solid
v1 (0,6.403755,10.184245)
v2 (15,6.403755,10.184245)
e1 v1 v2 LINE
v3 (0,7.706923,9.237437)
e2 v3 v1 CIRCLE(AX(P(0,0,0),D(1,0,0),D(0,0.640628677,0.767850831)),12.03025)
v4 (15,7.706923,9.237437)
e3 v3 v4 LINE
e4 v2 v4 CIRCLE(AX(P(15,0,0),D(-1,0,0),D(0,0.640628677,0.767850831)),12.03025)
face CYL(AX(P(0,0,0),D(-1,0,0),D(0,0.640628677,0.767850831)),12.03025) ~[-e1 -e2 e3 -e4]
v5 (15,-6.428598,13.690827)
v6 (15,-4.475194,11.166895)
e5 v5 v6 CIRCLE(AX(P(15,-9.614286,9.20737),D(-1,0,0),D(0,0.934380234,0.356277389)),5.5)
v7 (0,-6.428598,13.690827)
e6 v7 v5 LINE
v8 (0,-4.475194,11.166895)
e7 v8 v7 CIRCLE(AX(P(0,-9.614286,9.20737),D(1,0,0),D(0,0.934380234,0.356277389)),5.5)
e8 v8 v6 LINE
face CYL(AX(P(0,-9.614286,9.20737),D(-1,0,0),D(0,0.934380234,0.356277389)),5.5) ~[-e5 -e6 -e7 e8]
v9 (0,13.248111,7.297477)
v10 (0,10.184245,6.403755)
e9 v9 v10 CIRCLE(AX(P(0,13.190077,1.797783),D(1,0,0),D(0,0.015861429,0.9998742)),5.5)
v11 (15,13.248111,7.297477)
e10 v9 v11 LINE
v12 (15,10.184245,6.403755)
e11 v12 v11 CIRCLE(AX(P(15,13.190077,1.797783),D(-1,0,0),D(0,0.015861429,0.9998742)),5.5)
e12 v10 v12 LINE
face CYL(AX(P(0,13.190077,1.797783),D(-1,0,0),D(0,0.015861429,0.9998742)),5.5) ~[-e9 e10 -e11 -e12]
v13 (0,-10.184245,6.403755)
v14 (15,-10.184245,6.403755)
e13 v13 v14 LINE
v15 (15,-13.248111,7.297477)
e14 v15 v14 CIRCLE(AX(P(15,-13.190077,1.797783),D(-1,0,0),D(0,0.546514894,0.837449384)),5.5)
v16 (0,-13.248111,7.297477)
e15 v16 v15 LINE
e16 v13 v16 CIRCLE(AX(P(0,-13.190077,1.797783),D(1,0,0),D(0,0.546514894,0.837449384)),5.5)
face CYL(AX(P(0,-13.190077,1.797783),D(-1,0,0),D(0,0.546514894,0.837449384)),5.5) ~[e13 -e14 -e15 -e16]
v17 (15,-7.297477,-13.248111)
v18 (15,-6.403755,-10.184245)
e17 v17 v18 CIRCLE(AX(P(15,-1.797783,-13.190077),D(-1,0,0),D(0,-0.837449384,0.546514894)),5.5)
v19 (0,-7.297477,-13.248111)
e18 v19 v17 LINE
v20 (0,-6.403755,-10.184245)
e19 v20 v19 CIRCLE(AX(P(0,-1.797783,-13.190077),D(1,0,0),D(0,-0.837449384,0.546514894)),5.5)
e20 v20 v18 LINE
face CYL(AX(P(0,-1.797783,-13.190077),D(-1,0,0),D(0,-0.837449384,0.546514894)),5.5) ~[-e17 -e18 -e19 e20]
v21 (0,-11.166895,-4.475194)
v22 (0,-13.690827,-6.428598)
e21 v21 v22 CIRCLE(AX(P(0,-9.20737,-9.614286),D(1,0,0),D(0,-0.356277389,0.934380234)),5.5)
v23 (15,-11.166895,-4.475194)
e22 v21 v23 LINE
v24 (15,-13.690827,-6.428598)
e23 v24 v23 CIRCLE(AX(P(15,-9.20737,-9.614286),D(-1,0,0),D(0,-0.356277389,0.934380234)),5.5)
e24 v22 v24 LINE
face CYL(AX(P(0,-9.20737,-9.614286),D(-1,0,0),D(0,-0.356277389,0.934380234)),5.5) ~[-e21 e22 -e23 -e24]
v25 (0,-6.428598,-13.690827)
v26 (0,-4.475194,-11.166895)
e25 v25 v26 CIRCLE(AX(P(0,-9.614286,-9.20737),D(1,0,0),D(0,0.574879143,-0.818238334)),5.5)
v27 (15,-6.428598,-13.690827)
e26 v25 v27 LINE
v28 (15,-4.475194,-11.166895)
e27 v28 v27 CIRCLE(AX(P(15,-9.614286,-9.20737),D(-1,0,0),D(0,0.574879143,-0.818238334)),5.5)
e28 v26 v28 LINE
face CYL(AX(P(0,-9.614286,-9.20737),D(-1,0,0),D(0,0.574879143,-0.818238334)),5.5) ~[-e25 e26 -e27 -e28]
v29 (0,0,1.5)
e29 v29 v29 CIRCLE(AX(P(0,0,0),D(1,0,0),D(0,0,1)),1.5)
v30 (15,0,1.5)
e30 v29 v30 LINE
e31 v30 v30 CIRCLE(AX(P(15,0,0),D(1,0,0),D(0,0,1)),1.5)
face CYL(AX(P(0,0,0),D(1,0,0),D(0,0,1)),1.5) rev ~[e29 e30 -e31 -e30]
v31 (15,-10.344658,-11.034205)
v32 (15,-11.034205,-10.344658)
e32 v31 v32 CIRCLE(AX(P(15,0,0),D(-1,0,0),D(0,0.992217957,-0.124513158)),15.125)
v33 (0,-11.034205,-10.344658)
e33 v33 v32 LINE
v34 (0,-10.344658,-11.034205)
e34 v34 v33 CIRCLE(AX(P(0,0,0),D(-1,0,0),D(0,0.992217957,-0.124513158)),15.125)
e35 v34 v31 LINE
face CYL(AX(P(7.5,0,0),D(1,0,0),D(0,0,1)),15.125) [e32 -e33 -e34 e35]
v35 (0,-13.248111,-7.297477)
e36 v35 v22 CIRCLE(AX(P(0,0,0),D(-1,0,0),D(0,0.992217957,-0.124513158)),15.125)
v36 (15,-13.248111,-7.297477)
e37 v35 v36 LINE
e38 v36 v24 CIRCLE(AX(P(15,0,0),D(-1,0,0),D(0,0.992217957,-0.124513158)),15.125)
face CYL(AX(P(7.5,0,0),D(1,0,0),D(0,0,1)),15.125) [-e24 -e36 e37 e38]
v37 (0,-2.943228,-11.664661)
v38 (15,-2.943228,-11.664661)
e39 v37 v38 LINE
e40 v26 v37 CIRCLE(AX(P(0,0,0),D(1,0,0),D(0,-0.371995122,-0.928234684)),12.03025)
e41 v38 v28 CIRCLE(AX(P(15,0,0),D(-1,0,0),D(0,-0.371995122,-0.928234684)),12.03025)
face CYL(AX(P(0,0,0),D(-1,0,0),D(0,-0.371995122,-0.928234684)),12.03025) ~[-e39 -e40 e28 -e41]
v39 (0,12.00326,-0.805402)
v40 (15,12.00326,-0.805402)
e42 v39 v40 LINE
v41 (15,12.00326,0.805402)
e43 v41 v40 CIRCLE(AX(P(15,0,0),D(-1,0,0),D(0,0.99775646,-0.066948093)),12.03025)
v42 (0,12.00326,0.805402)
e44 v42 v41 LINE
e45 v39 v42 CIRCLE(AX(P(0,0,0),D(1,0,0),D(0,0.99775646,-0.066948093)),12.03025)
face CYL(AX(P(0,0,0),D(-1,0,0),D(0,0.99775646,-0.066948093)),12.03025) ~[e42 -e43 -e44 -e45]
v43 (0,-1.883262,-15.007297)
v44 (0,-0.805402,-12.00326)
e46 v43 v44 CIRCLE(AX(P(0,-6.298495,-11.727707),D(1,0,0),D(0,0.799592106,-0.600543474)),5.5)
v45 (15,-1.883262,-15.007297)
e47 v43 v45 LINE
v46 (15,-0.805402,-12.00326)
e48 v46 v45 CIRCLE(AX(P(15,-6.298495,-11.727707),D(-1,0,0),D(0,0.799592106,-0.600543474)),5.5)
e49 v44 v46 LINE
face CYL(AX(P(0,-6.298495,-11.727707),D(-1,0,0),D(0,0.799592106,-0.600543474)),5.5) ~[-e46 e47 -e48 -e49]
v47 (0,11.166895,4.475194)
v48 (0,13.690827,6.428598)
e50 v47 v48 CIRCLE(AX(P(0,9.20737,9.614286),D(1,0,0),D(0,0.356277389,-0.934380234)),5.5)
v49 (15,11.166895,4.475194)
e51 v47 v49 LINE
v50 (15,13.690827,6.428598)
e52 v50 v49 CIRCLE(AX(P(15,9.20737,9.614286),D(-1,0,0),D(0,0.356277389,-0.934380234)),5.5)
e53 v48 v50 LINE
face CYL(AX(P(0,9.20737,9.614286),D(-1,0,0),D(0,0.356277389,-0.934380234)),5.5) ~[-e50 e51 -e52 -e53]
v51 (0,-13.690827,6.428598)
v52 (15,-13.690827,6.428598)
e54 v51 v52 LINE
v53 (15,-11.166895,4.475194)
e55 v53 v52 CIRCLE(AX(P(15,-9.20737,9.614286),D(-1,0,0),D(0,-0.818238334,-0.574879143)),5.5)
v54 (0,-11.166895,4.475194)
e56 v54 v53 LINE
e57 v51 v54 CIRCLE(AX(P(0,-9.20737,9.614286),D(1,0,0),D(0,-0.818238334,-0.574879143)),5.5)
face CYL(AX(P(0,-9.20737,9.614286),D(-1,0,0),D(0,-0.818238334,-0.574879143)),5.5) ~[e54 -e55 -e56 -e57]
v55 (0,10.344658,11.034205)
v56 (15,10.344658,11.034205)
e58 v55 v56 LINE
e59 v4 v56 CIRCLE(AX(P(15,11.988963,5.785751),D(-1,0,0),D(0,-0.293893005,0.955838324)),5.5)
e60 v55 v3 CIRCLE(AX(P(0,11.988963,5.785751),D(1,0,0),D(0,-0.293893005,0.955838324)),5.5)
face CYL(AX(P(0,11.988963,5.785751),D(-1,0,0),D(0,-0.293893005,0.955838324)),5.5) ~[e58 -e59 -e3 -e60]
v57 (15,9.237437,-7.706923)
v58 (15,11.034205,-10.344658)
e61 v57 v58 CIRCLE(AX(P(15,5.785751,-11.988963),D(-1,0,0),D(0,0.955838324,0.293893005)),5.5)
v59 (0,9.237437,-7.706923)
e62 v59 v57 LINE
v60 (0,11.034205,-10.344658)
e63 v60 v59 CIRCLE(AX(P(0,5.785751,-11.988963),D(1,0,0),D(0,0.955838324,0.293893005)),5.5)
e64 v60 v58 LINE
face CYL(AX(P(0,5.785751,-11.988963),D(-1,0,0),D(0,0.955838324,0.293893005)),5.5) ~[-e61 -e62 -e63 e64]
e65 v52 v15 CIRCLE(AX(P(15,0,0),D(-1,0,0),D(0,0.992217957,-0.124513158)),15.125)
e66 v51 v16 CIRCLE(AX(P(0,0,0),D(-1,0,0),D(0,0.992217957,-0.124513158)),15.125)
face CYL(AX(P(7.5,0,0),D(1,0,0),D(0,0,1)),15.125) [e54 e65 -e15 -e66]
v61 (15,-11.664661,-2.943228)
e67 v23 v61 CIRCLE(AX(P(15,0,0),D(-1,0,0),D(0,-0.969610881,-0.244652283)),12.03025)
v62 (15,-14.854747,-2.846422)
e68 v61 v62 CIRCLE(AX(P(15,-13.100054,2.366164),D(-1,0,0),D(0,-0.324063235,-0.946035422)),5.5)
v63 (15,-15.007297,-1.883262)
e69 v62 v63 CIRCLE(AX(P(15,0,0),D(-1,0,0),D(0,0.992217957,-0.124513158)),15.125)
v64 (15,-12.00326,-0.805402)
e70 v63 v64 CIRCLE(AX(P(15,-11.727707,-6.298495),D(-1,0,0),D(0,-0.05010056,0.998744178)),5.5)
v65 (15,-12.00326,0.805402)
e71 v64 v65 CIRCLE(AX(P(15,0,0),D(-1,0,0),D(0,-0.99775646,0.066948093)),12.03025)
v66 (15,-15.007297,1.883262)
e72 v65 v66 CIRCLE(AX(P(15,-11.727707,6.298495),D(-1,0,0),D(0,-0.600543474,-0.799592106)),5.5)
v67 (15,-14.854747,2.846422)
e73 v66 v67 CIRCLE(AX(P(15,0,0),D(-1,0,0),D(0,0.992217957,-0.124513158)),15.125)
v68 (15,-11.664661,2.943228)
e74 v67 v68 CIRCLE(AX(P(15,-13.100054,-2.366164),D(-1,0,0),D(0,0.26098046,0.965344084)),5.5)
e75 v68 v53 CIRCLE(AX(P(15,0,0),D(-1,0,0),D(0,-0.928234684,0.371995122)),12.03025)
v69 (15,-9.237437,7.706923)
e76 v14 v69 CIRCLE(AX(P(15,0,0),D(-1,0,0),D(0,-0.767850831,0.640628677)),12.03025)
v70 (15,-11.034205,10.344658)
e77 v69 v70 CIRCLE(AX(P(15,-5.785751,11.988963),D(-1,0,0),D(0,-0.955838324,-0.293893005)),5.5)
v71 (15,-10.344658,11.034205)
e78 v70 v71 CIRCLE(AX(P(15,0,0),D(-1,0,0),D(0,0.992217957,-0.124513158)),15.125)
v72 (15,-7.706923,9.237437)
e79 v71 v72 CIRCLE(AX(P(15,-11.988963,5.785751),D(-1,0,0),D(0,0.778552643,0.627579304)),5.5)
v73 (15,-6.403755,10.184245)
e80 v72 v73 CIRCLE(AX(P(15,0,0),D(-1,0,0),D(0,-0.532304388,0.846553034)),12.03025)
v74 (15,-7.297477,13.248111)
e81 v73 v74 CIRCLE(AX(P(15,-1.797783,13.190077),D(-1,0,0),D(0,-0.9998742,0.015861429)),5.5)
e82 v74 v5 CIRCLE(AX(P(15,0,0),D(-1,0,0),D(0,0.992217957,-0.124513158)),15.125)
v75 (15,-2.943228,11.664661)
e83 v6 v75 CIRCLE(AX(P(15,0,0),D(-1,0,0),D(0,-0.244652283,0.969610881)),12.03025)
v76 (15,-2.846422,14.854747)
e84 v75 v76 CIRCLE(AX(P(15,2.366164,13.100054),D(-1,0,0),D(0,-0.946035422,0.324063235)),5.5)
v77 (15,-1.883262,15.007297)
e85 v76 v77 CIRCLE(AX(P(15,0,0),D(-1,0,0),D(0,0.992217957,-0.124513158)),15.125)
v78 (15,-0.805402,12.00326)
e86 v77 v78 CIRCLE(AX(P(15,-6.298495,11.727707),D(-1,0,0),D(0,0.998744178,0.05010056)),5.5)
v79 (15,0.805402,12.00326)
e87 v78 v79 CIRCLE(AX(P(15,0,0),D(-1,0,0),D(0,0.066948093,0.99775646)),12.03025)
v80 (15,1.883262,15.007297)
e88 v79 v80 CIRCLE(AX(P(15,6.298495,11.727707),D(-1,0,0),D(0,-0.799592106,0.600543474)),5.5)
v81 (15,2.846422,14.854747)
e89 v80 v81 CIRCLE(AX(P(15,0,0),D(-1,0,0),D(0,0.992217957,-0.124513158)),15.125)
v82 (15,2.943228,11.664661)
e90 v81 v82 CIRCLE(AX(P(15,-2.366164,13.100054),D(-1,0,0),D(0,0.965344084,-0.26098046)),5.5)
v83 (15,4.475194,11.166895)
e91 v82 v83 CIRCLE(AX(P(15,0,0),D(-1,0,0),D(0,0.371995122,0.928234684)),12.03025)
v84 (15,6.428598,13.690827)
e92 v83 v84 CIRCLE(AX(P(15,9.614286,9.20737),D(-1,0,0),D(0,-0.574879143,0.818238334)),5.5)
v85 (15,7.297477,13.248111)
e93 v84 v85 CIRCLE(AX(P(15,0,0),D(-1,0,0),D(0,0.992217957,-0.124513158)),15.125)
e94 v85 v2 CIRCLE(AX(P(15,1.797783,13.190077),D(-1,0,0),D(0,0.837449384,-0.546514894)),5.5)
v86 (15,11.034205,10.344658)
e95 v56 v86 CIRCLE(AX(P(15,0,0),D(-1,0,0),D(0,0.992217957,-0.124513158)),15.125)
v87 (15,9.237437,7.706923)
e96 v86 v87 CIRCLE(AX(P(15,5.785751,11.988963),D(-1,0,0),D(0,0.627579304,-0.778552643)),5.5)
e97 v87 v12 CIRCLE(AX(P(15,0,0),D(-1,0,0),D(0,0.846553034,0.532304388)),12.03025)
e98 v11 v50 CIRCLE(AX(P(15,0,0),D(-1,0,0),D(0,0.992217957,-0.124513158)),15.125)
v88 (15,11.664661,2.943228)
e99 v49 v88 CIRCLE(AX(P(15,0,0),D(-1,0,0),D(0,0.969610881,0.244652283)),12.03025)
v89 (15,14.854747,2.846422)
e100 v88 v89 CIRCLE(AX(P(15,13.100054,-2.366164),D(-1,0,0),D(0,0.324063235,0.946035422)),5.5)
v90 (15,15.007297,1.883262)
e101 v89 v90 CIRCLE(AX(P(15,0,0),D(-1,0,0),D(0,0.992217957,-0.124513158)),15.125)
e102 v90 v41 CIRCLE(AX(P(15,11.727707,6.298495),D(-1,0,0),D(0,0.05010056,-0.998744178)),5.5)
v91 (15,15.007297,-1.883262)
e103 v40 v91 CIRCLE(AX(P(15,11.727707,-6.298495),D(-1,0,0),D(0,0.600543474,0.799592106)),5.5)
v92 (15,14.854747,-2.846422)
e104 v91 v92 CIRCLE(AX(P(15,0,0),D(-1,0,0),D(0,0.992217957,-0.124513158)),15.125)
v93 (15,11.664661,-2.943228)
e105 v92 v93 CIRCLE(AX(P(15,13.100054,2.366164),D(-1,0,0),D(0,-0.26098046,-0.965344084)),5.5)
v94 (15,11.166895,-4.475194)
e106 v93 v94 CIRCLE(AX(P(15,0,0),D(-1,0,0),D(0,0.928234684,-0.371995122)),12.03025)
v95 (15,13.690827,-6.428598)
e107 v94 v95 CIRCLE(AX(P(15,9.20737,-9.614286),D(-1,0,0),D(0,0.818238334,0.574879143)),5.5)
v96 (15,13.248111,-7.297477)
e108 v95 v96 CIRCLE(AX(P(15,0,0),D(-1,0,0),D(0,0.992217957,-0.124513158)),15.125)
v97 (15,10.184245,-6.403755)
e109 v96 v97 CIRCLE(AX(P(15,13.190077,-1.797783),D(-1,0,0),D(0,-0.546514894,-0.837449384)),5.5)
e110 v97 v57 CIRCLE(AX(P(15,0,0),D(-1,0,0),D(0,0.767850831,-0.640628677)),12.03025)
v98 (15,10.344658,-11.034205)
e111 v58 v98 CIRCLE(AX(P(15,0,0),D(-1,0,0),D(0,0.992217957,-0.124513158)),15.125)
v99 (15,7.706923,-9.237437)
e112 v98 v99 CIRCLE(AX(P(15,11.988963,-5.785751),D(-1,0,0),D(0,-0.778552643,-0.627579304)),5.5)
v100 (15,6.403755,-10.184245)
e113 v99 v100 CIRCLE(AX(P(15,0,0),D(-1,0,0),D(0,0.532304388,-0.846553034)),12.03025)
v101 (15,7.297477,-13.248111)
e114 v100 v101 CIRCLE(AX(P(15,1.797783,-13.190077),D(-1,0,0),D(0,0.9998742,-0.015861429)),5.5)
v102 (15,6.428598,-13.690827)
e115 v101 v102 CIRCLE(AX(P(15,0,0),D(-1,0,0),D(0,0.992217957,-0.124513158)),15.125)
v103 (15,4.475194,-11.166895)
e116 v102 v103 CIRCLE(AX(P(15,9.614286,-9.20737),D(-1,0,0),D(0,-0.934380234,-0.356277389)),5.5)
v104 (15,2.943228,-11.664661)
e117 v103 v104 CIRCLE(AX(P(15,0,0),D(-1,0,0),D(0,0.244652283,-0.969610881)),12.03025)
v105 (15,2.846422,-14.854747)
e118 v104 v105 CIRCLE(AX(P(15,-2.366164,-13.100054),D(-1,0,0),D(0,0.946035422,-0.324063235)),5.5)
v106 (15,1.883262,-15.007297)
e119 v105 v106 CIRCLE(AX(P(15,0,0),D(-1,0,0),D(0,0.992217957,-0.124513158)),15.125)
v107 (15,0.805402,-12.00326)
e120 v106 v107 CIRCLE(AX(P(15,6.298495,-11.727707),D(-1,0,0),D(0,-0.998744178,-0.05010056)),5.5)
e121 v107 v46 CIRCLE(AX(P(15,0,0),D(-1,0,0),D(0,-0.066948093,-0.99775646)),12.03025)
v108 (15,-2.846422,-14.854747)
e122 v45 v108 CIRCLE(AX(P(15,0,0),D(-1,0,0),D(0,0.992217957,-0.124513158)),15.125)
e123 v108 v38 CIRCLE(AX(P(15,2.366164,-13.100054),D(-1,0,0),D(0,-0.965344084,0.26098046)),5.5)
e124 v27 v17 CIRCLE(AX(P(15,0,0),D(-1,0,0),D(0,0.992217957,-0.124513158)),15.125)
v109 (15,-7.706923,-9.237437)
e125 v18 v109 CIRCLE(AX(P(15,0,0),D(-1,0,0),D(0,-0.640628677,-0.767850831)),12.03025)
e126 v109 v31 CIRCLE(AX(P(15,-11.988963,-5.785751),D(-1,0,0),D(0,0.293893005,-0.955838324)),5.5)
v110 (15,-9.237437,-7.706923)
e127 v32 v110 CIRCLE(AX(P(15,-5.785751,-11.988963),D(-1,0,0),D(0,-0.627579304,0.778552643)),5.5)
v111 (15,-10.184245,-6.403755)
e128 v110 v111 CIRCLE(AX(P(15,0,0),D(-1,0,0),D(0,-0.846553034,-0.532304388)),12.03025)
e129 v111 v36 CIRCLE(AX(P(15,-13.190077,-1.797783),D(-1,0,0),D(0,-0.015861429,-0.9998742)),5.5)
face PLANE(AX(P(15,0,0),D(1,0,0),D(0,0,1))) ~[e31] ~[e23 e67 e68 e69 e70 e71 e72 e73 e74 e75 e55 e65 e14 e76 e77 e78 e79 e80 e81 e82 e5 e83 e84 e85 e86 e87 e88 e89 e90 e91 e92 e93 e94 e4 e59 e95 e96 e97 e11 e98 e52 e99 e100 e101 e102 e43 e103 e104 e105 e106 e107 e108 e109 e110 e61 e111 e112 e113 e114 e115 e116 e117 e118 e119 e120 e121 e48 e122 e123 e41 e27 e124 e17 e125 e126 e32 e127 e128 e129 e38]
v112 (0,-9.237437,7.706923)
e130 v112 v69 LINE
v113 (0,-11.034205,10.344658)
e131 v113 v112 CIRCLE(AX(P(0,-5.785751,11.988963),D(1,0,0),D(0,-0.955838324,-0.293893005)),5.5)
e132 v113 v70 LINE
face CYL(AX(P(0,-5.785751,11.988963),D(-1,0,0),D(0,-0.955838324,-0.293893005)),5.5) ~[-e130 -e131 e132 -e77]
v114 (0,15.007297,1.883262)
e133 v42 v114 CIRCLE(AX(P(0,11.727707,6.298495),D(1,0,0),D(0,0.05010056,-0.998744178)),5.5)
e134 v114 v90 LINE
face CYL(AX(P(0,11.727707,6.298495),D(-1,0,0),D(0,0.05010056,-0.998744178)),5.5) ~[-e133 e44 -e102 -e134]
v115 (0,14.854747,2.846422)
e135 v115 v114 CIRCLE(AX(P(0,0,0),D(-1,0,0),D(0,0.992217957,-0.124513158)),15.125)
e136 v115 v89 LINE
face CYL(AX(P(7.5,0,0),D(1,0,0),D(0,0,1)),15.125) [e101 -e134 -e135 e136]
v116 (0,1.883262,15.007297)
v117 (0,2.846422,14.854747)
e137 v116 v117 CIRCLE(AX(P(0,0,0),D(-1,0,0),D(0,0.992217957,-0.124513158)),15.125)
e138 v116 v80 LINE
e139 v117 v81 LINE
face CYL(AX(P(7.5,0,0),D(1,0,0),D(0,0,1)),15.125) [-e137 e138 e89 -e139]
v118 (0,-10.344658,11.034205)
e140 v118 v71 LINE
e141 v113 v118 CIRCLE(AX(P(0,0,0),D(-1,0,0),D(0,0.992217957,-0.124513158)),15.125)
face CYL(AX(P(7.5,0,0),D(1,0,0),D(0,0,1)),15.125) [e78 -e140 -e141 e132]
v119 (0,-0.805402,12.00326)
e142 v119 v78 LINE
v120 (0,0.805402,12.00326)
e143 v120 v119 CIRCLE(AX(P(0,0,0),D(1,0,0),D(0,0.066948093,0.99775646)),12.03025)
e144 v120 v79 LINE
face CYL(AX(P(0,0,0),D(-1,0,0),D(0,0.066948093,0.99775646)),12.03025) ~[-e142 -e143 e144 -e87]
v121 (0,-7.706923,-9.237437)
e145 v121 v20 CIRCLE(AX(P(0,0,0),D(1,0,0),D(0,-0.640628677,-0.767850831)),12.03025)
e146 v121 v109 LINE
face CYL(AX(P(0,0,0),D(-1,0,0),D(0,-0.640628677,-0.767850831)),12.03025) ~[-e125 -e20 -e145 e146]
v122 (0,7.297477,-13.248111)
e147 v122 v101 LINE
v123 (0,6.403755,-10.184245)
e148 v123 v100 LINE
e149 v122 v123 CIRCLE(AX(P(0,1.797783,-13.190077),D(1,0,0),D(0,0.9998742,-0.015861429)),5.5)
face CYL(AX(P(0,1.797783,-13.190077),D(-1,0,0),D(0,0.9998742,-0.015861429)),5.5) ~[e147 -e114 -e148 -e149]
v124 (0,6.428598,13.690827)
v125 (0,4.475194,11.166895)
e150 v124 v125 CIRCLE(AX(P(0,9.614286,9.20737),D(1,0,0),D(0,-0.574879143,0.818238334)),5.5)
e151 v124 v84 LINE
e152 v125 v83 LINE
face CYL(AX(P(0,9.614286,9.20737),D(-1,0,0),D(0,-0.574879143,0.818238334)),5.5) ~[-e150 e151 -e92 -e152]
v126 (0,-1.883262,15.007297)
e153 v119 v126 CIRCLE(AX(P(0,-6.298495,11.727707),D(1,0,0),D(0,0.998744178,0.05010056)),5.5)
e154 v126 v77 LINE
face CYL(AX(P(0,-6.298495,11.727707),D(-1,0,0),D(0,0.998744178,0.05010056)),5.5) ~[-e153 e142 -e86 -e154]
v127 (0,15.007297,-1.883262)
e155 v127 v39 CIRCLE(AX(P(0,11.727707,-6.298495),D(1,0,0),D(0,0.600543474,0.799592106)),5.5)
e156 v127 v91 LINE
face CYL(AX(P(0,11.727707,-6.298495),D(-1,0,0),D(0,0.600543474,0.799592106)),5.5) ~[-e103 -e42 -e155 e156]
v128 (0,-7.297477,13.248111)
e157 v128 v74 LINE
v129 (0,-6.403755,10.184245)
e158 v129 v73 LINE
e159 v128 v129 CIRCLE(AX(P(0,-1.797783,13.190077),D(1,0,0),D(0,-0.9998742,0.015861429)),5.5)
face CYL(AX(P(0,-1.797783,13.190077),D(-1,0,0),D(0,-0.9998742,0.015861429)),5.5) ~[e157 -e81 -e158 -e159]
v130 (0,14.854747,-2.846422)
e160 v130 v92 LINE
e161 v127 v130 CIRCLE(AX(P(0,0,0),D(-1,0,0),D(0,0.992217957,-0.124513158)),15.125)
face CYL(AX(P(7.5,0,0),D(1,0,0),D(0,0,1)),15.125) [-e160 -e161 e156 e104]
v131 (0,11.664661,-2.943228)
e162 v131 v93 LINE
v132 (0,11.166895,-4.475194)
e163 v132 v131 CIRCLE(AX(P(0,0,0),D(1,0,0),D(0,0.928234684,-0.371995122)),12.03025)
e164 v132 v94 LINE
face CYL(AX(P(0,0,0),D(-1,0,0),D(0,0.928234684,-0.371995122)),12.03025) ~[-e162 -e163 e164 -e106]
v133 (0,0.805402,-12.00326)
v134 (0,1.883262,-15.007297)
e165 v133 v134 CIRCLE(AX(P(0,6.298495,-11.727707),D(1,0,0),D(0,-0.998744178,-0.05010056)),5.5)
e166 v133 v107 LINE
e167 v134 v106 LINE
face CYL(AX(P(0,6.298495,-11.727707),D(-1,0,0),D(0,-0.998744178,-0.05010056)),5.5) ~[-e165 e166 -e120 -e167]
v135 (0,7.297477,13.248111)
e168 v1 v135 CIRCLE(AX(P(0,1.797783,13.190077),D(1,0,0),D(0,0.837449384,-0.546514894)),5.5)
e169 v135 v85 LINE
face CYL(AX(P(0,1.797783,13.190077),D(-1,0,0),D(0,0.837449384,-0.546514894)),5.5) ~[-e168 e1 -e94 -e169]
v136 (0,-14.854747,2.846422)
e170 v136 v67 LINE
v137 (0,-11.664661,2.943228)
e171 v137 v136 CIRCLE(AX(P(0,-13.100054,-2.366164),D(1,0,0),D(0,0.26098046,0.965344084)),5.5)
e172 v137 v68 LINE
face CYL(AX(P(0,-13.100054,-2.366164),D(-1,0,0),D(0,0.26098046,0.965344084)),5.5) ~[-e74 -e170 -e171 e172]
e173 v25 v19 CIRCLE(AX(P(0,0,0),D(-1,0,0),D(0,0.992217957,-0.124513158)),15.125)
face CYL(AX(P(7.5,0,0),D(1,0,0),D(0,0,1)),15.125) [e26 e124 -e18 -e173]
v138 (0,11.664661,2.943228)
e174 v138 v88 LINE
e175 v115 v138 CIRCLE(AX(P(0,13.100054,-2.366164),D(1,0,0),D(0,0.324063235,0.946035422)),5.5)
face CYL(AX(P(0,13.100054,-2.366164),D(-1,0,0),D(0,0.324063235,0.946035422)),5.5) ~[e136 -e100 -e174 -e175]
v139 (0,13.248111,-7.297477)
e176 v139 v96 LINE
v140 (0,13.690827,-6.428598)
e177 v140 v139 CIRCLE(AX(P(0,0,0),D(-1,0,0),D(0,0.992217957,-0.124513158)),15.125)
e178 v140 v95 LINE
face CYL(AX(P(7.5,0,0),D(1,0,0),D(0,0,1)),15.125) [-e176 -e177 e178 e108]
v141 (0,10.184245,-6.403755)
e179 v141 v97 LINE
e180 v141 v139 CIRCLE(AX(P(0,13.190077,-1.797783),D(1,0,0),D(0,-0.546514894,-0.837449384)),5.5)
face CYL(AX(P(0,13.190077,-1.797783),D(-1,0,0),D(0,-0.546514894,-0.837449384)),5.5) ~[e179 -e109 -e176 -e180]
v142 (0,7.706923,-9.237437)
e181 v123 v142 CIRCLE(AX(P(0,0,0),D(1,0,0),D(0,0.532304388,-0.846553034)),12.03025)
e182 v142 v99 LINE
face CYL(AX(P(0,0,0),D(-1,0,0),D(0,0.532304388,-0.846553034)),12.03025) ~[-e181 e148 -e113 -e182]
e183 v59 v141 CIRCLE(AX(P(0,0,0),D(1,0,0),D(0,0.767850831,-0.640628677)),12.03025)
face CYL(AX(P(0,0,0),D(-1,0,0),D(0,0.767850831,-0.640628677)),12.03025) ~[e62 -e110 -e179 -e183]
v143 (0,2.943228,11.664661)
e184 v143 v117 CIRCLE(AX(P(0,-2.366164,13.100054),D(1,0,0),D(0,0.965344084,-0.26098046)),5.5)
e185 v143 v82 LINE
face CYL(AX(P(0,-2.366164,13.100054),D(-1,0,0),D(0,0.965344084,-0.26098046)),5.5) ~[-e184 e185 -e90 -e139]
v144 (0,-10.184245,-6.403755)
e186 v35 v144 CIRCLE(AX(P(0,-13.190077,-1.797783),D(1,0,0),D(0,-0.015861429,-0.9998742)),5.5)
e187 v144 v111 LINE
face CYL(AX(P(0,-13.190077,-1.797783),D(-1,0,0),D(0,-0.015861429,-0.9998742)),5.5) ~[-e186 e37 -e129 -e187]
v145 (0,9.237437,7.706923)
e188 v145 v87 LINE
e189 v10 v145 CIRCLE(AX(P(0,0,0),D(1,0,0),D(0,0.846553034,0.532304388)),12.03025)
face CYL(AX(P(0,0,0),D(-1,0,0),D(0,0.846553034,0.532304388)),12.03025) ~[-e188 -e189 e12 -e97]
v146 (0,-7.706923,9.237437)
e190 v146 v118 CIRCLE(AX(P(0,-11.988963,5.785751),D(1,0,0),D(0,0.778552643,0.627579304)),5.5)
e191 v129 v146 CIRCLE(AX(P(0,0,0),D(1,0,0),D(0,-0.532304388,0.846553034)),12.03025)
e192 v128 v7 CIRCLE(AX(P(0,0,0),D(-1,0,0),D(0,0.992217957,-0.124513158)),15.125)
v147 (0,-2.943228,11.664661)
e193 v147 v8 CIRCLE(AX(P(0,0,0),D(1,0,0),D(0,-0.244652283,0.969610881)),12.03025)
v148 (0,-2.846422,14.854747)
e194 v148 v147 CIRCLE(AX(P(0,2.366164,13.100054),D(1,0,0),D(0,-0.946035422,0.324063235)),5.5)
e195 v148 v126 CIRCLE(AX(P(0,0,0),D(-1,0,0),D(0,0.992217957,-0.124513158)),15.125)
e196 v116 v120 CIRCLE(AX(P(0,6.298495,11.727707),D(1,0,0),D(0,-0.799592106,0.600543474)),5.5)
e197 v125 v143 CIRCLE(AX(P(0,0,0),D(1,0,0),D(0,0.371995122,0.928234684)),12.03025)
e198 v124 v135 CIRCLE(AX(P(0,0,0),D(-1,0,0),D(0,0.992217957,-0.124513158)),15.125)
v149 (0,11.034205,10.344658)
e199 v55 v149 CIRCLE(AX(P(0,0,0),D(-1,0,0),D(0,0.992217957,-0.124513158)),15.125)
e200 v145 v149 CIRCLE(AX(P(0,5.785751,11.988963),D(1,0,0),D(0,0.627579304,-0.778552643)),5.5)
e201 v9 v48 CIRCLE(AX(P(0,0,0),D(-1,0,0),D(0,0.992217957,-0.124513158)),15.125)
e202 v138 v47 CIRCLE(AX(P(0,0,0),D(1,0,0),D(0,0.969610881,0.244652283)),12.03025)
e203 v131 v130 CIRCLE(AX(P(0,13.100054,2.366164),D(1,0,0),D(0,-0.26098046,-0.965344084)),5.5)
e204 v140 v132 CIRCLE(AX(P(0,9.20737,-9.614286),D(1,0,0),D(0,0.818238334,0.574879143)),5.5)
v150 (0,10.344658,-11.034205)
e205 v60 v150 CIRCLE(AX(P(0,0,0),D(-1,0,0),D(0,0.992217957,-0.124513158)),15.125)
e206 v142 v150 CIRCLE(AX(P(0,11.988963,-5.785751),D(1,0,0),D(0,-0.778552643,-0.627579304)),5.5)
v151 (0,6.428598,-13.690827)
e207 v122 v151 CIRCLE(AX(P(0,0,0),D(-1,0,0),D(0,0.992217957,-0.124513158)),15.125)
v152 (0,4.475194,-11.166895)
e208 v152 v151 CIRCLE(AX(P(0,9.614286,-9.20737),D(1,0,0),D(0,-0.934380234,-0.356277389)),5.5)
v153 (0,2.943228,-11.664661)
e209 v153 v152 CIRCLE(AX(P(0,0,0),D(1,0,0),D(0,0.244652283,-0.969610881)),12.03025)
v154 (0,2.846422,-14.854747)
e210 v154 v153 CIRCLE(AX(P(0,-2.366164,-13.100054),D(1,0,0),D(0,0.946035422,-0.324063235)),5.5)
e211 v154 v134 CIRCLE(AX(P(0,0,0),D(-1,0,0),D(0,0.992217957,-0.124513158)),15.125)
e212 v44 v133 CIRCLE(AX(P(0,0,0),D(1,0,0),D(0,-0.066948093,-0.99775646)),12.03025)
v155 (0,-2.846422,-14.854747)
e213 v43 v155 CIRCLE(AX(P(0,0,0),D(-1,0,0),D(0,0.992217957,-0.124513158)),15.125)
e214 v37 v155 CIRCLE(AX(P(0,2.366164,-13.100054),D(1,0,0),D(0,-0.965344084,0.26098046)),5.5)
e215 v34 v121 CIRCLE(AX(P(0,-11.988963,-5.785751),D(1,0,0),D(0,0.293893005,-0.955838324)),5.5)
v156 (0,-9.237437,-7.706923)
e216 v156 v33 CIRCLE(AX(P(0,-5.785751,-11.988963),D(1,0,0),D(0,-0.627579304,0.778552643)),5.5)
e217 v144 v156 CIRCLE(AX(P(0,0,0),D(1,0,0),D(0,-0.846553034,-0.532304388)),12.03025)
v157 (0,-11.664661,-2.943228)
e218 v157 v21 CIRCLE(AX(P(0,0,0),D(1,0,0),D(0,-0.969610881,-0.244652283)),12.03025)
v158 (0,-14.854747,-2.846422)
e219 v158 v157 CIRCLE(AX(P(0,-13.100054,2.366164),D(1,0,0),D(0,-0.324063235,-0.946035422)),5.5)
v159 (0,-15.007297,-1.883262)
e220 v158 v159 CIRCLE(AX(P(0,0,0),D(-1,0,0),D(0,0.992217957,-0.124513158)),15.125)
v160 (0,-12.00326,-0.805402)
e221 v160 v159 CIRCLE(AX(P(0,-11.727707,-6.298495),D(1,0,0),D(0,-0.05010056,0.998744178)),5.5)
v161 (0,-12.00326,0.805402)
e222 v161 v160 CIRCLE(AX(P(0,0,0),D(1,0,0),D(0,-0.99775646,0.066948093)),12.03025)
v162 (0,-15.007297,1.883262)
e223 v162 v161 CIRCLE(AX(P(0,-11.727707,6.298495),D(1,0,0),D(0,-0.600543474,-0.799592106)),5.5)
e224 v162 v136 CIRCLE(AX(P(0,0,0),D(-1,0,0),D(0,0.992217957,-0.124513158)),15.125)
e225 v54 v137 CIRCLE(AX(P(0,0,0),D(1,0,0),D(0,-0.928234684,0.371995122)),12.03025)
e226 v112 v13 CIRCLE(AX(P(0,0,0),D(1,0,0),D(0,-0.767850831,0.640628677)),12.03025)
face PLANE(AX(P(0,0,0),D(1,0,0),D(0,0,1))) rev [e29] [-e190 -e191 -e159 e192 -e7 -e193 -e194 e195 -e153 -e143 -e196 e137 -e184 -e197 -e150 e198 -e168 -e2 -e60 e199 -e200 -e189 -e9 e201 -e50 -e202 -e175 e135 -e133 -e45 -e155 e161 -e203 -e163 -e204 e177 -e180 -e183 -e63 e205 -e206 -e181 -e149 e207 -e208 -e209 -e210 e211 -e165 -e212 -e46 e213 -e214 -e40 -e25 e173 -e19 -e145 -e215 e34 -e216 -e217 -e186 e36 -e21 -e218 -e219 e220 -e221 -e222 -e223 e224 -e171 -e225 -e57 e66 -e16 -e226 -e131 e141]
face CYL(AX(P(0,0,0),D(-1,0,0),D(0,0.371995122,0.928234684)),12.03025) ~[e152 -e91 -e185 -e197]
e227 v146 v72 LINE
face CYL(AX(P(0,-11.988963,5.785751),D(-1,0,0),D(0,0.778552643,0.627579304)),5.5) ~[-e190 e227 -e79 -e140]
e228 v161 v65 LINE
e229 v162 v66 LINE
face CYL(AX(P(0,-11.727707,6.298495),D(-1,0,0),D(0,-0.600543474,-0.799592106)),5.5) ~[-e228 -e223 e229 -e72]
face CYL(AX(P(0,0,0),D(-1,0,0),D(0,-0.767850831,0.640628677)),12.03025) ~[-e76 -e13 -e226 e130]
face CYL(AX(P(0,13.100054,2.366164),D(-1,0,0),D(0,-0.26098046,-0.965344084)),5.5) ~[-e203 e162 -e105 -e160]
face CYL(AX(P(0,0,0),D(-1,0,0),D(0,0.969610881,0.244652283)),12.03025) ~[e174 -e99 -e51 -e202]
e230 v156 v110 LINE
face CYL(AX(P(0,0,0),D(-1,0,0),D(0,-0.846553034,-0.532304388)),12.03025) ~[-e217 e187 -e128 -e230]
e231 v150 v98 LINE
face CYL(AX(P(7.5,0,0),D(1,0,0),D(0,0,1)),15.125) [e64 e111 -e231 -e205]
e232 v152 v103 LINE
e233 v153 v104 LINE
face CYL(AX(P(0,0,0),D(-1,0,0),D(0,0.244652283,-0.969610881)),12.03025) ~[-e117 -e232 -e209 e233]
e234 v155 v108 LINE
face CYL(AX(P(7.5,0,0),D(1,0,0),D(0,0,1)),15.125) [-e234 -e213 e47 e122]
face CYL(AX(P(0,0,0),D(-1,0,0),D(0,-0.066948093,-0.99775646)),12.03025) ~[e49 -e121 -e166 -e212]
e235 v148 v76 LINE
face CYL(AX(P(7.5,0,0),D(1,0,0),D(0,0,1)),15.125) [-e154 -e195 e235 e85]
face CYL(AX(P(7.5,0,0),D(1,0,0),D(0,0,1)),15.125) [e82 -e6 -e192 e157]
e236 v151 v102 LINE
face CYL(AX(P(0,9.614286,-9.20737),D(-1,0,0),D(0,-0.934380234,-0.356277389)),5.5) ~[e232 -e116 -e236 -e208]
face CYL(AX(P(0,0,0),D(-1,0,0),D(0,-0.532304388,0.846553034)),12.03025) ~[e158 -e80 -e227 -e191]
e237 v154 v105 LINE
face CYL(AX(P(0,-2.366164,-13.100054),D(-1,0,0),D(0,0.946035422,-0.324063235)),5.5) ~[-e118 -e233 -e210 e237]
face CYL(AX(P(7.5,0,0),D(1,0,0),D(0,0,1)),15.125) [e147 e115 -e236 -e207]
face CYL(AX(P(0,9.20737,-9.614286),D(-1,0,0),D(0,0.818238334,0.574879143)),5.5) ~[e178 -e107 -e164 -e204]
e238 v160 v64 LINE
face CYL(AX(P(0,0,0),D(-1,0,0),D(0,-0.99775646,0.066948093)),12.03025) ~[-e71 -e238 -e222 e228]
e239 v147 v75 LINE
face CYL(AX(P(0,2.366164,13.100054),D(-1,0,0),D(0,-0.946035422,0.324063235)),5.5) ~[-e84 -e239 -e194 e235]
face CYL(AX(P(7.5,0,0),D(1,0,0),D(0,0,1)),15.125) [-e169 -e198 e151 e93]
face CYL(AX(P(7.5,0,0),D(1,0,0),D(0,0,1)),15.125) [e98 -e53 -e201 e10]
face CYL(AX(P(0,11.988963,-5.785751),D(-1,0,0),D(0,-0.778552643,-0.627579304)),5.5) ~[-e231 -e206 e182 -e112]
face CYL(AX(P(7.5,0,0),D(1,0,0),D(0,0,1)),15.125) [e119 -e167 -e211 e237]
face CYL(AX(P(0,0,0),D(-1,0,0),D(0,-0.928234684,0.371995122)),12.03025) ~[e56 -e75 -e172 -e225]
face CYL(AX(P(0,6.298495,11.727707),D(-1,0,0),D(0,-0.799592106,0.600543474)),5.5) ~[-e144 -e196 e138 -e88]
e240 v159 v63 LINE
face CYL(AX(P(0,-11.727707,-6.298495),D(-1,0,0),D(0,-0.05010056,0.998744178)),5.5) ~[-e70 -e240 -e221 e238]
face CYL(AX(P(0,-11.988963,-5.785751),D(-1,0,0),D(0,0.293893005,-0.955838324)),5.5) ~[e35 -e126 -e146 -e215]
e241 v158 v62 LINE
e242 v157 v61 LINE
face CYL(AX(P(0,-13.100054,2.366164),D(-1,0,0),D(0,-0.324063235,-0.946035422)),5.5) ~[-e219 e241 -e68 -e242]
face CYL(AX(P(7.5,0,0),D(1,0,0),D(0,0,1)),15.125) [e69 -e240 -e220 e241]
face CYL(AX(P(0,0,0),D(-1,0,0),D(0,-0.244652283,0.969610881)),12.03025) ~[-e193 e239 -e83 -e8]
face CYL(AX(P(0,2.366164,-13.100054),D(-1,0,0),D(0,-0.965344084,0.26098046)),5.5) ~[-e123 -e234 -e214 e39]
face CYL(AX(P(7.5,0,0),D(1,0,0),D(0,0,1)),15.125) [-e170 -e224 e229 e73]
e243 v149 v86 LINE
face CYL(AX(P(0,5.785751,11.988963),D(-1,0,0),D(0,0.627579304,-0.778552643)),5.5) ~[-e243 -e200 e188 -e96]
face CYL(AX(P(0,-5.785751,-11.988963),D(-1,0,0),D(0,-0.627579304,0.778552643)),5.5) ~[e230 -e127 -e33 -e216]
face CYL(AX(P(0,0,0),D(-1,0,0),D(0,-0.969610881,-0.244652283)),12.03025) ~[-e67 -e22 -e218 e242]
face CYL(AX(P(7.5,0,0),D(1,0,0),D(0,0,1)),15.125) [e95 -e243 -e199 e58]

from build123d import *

# Parameters (mm, degrees)
BASPROSKE_W     = 15
BASPROSKE_H     = 15.125
TOOTHCUT_DEPTH  = 27.125299041
TEETHCUTS_COUNT = 20
BORSKE_R        = 1.5
BORE_DEPTH      = 50.0000508


with BuildPart() as part:
    # BasProSke → Base-Revolve (revolve)
    with BuildSketch(Plane(origin=(0, 0, 0), x_dir=(1, 0, 0), z_dir=(0, 1, 0)), mode=Mode.PRIVATE) as base_revolve_sk:
        with Locations((7.5, 7.5625)):
            Rectangle(BASPROSKE_W, BASPROSKE_H)
    revolve(base_revolve_sk.sketch.rotate(Axis((-10, 0, 0), (1, 0, 0)), 180), axis=Axis((-10, 0, 0), (1, 0, 0)))

    # TooCutSke → ToothCut (cut, through all)
    with BuildSketch(Plane(origin=(0, 0, 0), x_dir=(0, 0, -1), z_dir=(1, 0, 0))):
        with BuildLine():
            ThreePointArc((0.805402304, 12.003259649), (0, 12.03025), (-0.805402304, 12.003259649))
            ThreePointArc((-0.805402304, 12.003259649), (-1.12659346, 13.598917809), (-1.900738704, 15.030695677))
            ThreePointArc((-1.900738704, 15.030695677), (0, 15.1504), (1.900738704, 15.030695677))
            ThreePointArc((1.900738704, 15.030695677), (1.12659346, 13.598917809), (0.805402304, 12.003259649))
        make_face()
    toothcut = extrude(amount=TOOTHCUT_DEPTH, mode=Mode.SUBTRACT)

    # TeethCuts: ToothCut ×20 about axis
    teethcuts_axis = Axis((0, 0, 0), (1, 0, 0))
    for i in range(1, TEETHCUTS_COUNT):
        add(toothcut.rotate(teethcuts_axis, i * 360 / TEETHCUTS_COUNT), mode=Mode.SUBTRACT)

    # BorSke → Bore (cut, symmetric)
    with BuildSketch(Plane(origin=(0, 0, 0), x_dir=(0, 0, -1), z_dir=(1, 0, 0))):
        with Locations(Location((0, 0, 0), (0, 0, 180))):
            Circle(BORSKE_R)
    extrude(amount=BORE_DEPTH, both=True, mode=Mode.SUBTRACT)


solid = part.part
